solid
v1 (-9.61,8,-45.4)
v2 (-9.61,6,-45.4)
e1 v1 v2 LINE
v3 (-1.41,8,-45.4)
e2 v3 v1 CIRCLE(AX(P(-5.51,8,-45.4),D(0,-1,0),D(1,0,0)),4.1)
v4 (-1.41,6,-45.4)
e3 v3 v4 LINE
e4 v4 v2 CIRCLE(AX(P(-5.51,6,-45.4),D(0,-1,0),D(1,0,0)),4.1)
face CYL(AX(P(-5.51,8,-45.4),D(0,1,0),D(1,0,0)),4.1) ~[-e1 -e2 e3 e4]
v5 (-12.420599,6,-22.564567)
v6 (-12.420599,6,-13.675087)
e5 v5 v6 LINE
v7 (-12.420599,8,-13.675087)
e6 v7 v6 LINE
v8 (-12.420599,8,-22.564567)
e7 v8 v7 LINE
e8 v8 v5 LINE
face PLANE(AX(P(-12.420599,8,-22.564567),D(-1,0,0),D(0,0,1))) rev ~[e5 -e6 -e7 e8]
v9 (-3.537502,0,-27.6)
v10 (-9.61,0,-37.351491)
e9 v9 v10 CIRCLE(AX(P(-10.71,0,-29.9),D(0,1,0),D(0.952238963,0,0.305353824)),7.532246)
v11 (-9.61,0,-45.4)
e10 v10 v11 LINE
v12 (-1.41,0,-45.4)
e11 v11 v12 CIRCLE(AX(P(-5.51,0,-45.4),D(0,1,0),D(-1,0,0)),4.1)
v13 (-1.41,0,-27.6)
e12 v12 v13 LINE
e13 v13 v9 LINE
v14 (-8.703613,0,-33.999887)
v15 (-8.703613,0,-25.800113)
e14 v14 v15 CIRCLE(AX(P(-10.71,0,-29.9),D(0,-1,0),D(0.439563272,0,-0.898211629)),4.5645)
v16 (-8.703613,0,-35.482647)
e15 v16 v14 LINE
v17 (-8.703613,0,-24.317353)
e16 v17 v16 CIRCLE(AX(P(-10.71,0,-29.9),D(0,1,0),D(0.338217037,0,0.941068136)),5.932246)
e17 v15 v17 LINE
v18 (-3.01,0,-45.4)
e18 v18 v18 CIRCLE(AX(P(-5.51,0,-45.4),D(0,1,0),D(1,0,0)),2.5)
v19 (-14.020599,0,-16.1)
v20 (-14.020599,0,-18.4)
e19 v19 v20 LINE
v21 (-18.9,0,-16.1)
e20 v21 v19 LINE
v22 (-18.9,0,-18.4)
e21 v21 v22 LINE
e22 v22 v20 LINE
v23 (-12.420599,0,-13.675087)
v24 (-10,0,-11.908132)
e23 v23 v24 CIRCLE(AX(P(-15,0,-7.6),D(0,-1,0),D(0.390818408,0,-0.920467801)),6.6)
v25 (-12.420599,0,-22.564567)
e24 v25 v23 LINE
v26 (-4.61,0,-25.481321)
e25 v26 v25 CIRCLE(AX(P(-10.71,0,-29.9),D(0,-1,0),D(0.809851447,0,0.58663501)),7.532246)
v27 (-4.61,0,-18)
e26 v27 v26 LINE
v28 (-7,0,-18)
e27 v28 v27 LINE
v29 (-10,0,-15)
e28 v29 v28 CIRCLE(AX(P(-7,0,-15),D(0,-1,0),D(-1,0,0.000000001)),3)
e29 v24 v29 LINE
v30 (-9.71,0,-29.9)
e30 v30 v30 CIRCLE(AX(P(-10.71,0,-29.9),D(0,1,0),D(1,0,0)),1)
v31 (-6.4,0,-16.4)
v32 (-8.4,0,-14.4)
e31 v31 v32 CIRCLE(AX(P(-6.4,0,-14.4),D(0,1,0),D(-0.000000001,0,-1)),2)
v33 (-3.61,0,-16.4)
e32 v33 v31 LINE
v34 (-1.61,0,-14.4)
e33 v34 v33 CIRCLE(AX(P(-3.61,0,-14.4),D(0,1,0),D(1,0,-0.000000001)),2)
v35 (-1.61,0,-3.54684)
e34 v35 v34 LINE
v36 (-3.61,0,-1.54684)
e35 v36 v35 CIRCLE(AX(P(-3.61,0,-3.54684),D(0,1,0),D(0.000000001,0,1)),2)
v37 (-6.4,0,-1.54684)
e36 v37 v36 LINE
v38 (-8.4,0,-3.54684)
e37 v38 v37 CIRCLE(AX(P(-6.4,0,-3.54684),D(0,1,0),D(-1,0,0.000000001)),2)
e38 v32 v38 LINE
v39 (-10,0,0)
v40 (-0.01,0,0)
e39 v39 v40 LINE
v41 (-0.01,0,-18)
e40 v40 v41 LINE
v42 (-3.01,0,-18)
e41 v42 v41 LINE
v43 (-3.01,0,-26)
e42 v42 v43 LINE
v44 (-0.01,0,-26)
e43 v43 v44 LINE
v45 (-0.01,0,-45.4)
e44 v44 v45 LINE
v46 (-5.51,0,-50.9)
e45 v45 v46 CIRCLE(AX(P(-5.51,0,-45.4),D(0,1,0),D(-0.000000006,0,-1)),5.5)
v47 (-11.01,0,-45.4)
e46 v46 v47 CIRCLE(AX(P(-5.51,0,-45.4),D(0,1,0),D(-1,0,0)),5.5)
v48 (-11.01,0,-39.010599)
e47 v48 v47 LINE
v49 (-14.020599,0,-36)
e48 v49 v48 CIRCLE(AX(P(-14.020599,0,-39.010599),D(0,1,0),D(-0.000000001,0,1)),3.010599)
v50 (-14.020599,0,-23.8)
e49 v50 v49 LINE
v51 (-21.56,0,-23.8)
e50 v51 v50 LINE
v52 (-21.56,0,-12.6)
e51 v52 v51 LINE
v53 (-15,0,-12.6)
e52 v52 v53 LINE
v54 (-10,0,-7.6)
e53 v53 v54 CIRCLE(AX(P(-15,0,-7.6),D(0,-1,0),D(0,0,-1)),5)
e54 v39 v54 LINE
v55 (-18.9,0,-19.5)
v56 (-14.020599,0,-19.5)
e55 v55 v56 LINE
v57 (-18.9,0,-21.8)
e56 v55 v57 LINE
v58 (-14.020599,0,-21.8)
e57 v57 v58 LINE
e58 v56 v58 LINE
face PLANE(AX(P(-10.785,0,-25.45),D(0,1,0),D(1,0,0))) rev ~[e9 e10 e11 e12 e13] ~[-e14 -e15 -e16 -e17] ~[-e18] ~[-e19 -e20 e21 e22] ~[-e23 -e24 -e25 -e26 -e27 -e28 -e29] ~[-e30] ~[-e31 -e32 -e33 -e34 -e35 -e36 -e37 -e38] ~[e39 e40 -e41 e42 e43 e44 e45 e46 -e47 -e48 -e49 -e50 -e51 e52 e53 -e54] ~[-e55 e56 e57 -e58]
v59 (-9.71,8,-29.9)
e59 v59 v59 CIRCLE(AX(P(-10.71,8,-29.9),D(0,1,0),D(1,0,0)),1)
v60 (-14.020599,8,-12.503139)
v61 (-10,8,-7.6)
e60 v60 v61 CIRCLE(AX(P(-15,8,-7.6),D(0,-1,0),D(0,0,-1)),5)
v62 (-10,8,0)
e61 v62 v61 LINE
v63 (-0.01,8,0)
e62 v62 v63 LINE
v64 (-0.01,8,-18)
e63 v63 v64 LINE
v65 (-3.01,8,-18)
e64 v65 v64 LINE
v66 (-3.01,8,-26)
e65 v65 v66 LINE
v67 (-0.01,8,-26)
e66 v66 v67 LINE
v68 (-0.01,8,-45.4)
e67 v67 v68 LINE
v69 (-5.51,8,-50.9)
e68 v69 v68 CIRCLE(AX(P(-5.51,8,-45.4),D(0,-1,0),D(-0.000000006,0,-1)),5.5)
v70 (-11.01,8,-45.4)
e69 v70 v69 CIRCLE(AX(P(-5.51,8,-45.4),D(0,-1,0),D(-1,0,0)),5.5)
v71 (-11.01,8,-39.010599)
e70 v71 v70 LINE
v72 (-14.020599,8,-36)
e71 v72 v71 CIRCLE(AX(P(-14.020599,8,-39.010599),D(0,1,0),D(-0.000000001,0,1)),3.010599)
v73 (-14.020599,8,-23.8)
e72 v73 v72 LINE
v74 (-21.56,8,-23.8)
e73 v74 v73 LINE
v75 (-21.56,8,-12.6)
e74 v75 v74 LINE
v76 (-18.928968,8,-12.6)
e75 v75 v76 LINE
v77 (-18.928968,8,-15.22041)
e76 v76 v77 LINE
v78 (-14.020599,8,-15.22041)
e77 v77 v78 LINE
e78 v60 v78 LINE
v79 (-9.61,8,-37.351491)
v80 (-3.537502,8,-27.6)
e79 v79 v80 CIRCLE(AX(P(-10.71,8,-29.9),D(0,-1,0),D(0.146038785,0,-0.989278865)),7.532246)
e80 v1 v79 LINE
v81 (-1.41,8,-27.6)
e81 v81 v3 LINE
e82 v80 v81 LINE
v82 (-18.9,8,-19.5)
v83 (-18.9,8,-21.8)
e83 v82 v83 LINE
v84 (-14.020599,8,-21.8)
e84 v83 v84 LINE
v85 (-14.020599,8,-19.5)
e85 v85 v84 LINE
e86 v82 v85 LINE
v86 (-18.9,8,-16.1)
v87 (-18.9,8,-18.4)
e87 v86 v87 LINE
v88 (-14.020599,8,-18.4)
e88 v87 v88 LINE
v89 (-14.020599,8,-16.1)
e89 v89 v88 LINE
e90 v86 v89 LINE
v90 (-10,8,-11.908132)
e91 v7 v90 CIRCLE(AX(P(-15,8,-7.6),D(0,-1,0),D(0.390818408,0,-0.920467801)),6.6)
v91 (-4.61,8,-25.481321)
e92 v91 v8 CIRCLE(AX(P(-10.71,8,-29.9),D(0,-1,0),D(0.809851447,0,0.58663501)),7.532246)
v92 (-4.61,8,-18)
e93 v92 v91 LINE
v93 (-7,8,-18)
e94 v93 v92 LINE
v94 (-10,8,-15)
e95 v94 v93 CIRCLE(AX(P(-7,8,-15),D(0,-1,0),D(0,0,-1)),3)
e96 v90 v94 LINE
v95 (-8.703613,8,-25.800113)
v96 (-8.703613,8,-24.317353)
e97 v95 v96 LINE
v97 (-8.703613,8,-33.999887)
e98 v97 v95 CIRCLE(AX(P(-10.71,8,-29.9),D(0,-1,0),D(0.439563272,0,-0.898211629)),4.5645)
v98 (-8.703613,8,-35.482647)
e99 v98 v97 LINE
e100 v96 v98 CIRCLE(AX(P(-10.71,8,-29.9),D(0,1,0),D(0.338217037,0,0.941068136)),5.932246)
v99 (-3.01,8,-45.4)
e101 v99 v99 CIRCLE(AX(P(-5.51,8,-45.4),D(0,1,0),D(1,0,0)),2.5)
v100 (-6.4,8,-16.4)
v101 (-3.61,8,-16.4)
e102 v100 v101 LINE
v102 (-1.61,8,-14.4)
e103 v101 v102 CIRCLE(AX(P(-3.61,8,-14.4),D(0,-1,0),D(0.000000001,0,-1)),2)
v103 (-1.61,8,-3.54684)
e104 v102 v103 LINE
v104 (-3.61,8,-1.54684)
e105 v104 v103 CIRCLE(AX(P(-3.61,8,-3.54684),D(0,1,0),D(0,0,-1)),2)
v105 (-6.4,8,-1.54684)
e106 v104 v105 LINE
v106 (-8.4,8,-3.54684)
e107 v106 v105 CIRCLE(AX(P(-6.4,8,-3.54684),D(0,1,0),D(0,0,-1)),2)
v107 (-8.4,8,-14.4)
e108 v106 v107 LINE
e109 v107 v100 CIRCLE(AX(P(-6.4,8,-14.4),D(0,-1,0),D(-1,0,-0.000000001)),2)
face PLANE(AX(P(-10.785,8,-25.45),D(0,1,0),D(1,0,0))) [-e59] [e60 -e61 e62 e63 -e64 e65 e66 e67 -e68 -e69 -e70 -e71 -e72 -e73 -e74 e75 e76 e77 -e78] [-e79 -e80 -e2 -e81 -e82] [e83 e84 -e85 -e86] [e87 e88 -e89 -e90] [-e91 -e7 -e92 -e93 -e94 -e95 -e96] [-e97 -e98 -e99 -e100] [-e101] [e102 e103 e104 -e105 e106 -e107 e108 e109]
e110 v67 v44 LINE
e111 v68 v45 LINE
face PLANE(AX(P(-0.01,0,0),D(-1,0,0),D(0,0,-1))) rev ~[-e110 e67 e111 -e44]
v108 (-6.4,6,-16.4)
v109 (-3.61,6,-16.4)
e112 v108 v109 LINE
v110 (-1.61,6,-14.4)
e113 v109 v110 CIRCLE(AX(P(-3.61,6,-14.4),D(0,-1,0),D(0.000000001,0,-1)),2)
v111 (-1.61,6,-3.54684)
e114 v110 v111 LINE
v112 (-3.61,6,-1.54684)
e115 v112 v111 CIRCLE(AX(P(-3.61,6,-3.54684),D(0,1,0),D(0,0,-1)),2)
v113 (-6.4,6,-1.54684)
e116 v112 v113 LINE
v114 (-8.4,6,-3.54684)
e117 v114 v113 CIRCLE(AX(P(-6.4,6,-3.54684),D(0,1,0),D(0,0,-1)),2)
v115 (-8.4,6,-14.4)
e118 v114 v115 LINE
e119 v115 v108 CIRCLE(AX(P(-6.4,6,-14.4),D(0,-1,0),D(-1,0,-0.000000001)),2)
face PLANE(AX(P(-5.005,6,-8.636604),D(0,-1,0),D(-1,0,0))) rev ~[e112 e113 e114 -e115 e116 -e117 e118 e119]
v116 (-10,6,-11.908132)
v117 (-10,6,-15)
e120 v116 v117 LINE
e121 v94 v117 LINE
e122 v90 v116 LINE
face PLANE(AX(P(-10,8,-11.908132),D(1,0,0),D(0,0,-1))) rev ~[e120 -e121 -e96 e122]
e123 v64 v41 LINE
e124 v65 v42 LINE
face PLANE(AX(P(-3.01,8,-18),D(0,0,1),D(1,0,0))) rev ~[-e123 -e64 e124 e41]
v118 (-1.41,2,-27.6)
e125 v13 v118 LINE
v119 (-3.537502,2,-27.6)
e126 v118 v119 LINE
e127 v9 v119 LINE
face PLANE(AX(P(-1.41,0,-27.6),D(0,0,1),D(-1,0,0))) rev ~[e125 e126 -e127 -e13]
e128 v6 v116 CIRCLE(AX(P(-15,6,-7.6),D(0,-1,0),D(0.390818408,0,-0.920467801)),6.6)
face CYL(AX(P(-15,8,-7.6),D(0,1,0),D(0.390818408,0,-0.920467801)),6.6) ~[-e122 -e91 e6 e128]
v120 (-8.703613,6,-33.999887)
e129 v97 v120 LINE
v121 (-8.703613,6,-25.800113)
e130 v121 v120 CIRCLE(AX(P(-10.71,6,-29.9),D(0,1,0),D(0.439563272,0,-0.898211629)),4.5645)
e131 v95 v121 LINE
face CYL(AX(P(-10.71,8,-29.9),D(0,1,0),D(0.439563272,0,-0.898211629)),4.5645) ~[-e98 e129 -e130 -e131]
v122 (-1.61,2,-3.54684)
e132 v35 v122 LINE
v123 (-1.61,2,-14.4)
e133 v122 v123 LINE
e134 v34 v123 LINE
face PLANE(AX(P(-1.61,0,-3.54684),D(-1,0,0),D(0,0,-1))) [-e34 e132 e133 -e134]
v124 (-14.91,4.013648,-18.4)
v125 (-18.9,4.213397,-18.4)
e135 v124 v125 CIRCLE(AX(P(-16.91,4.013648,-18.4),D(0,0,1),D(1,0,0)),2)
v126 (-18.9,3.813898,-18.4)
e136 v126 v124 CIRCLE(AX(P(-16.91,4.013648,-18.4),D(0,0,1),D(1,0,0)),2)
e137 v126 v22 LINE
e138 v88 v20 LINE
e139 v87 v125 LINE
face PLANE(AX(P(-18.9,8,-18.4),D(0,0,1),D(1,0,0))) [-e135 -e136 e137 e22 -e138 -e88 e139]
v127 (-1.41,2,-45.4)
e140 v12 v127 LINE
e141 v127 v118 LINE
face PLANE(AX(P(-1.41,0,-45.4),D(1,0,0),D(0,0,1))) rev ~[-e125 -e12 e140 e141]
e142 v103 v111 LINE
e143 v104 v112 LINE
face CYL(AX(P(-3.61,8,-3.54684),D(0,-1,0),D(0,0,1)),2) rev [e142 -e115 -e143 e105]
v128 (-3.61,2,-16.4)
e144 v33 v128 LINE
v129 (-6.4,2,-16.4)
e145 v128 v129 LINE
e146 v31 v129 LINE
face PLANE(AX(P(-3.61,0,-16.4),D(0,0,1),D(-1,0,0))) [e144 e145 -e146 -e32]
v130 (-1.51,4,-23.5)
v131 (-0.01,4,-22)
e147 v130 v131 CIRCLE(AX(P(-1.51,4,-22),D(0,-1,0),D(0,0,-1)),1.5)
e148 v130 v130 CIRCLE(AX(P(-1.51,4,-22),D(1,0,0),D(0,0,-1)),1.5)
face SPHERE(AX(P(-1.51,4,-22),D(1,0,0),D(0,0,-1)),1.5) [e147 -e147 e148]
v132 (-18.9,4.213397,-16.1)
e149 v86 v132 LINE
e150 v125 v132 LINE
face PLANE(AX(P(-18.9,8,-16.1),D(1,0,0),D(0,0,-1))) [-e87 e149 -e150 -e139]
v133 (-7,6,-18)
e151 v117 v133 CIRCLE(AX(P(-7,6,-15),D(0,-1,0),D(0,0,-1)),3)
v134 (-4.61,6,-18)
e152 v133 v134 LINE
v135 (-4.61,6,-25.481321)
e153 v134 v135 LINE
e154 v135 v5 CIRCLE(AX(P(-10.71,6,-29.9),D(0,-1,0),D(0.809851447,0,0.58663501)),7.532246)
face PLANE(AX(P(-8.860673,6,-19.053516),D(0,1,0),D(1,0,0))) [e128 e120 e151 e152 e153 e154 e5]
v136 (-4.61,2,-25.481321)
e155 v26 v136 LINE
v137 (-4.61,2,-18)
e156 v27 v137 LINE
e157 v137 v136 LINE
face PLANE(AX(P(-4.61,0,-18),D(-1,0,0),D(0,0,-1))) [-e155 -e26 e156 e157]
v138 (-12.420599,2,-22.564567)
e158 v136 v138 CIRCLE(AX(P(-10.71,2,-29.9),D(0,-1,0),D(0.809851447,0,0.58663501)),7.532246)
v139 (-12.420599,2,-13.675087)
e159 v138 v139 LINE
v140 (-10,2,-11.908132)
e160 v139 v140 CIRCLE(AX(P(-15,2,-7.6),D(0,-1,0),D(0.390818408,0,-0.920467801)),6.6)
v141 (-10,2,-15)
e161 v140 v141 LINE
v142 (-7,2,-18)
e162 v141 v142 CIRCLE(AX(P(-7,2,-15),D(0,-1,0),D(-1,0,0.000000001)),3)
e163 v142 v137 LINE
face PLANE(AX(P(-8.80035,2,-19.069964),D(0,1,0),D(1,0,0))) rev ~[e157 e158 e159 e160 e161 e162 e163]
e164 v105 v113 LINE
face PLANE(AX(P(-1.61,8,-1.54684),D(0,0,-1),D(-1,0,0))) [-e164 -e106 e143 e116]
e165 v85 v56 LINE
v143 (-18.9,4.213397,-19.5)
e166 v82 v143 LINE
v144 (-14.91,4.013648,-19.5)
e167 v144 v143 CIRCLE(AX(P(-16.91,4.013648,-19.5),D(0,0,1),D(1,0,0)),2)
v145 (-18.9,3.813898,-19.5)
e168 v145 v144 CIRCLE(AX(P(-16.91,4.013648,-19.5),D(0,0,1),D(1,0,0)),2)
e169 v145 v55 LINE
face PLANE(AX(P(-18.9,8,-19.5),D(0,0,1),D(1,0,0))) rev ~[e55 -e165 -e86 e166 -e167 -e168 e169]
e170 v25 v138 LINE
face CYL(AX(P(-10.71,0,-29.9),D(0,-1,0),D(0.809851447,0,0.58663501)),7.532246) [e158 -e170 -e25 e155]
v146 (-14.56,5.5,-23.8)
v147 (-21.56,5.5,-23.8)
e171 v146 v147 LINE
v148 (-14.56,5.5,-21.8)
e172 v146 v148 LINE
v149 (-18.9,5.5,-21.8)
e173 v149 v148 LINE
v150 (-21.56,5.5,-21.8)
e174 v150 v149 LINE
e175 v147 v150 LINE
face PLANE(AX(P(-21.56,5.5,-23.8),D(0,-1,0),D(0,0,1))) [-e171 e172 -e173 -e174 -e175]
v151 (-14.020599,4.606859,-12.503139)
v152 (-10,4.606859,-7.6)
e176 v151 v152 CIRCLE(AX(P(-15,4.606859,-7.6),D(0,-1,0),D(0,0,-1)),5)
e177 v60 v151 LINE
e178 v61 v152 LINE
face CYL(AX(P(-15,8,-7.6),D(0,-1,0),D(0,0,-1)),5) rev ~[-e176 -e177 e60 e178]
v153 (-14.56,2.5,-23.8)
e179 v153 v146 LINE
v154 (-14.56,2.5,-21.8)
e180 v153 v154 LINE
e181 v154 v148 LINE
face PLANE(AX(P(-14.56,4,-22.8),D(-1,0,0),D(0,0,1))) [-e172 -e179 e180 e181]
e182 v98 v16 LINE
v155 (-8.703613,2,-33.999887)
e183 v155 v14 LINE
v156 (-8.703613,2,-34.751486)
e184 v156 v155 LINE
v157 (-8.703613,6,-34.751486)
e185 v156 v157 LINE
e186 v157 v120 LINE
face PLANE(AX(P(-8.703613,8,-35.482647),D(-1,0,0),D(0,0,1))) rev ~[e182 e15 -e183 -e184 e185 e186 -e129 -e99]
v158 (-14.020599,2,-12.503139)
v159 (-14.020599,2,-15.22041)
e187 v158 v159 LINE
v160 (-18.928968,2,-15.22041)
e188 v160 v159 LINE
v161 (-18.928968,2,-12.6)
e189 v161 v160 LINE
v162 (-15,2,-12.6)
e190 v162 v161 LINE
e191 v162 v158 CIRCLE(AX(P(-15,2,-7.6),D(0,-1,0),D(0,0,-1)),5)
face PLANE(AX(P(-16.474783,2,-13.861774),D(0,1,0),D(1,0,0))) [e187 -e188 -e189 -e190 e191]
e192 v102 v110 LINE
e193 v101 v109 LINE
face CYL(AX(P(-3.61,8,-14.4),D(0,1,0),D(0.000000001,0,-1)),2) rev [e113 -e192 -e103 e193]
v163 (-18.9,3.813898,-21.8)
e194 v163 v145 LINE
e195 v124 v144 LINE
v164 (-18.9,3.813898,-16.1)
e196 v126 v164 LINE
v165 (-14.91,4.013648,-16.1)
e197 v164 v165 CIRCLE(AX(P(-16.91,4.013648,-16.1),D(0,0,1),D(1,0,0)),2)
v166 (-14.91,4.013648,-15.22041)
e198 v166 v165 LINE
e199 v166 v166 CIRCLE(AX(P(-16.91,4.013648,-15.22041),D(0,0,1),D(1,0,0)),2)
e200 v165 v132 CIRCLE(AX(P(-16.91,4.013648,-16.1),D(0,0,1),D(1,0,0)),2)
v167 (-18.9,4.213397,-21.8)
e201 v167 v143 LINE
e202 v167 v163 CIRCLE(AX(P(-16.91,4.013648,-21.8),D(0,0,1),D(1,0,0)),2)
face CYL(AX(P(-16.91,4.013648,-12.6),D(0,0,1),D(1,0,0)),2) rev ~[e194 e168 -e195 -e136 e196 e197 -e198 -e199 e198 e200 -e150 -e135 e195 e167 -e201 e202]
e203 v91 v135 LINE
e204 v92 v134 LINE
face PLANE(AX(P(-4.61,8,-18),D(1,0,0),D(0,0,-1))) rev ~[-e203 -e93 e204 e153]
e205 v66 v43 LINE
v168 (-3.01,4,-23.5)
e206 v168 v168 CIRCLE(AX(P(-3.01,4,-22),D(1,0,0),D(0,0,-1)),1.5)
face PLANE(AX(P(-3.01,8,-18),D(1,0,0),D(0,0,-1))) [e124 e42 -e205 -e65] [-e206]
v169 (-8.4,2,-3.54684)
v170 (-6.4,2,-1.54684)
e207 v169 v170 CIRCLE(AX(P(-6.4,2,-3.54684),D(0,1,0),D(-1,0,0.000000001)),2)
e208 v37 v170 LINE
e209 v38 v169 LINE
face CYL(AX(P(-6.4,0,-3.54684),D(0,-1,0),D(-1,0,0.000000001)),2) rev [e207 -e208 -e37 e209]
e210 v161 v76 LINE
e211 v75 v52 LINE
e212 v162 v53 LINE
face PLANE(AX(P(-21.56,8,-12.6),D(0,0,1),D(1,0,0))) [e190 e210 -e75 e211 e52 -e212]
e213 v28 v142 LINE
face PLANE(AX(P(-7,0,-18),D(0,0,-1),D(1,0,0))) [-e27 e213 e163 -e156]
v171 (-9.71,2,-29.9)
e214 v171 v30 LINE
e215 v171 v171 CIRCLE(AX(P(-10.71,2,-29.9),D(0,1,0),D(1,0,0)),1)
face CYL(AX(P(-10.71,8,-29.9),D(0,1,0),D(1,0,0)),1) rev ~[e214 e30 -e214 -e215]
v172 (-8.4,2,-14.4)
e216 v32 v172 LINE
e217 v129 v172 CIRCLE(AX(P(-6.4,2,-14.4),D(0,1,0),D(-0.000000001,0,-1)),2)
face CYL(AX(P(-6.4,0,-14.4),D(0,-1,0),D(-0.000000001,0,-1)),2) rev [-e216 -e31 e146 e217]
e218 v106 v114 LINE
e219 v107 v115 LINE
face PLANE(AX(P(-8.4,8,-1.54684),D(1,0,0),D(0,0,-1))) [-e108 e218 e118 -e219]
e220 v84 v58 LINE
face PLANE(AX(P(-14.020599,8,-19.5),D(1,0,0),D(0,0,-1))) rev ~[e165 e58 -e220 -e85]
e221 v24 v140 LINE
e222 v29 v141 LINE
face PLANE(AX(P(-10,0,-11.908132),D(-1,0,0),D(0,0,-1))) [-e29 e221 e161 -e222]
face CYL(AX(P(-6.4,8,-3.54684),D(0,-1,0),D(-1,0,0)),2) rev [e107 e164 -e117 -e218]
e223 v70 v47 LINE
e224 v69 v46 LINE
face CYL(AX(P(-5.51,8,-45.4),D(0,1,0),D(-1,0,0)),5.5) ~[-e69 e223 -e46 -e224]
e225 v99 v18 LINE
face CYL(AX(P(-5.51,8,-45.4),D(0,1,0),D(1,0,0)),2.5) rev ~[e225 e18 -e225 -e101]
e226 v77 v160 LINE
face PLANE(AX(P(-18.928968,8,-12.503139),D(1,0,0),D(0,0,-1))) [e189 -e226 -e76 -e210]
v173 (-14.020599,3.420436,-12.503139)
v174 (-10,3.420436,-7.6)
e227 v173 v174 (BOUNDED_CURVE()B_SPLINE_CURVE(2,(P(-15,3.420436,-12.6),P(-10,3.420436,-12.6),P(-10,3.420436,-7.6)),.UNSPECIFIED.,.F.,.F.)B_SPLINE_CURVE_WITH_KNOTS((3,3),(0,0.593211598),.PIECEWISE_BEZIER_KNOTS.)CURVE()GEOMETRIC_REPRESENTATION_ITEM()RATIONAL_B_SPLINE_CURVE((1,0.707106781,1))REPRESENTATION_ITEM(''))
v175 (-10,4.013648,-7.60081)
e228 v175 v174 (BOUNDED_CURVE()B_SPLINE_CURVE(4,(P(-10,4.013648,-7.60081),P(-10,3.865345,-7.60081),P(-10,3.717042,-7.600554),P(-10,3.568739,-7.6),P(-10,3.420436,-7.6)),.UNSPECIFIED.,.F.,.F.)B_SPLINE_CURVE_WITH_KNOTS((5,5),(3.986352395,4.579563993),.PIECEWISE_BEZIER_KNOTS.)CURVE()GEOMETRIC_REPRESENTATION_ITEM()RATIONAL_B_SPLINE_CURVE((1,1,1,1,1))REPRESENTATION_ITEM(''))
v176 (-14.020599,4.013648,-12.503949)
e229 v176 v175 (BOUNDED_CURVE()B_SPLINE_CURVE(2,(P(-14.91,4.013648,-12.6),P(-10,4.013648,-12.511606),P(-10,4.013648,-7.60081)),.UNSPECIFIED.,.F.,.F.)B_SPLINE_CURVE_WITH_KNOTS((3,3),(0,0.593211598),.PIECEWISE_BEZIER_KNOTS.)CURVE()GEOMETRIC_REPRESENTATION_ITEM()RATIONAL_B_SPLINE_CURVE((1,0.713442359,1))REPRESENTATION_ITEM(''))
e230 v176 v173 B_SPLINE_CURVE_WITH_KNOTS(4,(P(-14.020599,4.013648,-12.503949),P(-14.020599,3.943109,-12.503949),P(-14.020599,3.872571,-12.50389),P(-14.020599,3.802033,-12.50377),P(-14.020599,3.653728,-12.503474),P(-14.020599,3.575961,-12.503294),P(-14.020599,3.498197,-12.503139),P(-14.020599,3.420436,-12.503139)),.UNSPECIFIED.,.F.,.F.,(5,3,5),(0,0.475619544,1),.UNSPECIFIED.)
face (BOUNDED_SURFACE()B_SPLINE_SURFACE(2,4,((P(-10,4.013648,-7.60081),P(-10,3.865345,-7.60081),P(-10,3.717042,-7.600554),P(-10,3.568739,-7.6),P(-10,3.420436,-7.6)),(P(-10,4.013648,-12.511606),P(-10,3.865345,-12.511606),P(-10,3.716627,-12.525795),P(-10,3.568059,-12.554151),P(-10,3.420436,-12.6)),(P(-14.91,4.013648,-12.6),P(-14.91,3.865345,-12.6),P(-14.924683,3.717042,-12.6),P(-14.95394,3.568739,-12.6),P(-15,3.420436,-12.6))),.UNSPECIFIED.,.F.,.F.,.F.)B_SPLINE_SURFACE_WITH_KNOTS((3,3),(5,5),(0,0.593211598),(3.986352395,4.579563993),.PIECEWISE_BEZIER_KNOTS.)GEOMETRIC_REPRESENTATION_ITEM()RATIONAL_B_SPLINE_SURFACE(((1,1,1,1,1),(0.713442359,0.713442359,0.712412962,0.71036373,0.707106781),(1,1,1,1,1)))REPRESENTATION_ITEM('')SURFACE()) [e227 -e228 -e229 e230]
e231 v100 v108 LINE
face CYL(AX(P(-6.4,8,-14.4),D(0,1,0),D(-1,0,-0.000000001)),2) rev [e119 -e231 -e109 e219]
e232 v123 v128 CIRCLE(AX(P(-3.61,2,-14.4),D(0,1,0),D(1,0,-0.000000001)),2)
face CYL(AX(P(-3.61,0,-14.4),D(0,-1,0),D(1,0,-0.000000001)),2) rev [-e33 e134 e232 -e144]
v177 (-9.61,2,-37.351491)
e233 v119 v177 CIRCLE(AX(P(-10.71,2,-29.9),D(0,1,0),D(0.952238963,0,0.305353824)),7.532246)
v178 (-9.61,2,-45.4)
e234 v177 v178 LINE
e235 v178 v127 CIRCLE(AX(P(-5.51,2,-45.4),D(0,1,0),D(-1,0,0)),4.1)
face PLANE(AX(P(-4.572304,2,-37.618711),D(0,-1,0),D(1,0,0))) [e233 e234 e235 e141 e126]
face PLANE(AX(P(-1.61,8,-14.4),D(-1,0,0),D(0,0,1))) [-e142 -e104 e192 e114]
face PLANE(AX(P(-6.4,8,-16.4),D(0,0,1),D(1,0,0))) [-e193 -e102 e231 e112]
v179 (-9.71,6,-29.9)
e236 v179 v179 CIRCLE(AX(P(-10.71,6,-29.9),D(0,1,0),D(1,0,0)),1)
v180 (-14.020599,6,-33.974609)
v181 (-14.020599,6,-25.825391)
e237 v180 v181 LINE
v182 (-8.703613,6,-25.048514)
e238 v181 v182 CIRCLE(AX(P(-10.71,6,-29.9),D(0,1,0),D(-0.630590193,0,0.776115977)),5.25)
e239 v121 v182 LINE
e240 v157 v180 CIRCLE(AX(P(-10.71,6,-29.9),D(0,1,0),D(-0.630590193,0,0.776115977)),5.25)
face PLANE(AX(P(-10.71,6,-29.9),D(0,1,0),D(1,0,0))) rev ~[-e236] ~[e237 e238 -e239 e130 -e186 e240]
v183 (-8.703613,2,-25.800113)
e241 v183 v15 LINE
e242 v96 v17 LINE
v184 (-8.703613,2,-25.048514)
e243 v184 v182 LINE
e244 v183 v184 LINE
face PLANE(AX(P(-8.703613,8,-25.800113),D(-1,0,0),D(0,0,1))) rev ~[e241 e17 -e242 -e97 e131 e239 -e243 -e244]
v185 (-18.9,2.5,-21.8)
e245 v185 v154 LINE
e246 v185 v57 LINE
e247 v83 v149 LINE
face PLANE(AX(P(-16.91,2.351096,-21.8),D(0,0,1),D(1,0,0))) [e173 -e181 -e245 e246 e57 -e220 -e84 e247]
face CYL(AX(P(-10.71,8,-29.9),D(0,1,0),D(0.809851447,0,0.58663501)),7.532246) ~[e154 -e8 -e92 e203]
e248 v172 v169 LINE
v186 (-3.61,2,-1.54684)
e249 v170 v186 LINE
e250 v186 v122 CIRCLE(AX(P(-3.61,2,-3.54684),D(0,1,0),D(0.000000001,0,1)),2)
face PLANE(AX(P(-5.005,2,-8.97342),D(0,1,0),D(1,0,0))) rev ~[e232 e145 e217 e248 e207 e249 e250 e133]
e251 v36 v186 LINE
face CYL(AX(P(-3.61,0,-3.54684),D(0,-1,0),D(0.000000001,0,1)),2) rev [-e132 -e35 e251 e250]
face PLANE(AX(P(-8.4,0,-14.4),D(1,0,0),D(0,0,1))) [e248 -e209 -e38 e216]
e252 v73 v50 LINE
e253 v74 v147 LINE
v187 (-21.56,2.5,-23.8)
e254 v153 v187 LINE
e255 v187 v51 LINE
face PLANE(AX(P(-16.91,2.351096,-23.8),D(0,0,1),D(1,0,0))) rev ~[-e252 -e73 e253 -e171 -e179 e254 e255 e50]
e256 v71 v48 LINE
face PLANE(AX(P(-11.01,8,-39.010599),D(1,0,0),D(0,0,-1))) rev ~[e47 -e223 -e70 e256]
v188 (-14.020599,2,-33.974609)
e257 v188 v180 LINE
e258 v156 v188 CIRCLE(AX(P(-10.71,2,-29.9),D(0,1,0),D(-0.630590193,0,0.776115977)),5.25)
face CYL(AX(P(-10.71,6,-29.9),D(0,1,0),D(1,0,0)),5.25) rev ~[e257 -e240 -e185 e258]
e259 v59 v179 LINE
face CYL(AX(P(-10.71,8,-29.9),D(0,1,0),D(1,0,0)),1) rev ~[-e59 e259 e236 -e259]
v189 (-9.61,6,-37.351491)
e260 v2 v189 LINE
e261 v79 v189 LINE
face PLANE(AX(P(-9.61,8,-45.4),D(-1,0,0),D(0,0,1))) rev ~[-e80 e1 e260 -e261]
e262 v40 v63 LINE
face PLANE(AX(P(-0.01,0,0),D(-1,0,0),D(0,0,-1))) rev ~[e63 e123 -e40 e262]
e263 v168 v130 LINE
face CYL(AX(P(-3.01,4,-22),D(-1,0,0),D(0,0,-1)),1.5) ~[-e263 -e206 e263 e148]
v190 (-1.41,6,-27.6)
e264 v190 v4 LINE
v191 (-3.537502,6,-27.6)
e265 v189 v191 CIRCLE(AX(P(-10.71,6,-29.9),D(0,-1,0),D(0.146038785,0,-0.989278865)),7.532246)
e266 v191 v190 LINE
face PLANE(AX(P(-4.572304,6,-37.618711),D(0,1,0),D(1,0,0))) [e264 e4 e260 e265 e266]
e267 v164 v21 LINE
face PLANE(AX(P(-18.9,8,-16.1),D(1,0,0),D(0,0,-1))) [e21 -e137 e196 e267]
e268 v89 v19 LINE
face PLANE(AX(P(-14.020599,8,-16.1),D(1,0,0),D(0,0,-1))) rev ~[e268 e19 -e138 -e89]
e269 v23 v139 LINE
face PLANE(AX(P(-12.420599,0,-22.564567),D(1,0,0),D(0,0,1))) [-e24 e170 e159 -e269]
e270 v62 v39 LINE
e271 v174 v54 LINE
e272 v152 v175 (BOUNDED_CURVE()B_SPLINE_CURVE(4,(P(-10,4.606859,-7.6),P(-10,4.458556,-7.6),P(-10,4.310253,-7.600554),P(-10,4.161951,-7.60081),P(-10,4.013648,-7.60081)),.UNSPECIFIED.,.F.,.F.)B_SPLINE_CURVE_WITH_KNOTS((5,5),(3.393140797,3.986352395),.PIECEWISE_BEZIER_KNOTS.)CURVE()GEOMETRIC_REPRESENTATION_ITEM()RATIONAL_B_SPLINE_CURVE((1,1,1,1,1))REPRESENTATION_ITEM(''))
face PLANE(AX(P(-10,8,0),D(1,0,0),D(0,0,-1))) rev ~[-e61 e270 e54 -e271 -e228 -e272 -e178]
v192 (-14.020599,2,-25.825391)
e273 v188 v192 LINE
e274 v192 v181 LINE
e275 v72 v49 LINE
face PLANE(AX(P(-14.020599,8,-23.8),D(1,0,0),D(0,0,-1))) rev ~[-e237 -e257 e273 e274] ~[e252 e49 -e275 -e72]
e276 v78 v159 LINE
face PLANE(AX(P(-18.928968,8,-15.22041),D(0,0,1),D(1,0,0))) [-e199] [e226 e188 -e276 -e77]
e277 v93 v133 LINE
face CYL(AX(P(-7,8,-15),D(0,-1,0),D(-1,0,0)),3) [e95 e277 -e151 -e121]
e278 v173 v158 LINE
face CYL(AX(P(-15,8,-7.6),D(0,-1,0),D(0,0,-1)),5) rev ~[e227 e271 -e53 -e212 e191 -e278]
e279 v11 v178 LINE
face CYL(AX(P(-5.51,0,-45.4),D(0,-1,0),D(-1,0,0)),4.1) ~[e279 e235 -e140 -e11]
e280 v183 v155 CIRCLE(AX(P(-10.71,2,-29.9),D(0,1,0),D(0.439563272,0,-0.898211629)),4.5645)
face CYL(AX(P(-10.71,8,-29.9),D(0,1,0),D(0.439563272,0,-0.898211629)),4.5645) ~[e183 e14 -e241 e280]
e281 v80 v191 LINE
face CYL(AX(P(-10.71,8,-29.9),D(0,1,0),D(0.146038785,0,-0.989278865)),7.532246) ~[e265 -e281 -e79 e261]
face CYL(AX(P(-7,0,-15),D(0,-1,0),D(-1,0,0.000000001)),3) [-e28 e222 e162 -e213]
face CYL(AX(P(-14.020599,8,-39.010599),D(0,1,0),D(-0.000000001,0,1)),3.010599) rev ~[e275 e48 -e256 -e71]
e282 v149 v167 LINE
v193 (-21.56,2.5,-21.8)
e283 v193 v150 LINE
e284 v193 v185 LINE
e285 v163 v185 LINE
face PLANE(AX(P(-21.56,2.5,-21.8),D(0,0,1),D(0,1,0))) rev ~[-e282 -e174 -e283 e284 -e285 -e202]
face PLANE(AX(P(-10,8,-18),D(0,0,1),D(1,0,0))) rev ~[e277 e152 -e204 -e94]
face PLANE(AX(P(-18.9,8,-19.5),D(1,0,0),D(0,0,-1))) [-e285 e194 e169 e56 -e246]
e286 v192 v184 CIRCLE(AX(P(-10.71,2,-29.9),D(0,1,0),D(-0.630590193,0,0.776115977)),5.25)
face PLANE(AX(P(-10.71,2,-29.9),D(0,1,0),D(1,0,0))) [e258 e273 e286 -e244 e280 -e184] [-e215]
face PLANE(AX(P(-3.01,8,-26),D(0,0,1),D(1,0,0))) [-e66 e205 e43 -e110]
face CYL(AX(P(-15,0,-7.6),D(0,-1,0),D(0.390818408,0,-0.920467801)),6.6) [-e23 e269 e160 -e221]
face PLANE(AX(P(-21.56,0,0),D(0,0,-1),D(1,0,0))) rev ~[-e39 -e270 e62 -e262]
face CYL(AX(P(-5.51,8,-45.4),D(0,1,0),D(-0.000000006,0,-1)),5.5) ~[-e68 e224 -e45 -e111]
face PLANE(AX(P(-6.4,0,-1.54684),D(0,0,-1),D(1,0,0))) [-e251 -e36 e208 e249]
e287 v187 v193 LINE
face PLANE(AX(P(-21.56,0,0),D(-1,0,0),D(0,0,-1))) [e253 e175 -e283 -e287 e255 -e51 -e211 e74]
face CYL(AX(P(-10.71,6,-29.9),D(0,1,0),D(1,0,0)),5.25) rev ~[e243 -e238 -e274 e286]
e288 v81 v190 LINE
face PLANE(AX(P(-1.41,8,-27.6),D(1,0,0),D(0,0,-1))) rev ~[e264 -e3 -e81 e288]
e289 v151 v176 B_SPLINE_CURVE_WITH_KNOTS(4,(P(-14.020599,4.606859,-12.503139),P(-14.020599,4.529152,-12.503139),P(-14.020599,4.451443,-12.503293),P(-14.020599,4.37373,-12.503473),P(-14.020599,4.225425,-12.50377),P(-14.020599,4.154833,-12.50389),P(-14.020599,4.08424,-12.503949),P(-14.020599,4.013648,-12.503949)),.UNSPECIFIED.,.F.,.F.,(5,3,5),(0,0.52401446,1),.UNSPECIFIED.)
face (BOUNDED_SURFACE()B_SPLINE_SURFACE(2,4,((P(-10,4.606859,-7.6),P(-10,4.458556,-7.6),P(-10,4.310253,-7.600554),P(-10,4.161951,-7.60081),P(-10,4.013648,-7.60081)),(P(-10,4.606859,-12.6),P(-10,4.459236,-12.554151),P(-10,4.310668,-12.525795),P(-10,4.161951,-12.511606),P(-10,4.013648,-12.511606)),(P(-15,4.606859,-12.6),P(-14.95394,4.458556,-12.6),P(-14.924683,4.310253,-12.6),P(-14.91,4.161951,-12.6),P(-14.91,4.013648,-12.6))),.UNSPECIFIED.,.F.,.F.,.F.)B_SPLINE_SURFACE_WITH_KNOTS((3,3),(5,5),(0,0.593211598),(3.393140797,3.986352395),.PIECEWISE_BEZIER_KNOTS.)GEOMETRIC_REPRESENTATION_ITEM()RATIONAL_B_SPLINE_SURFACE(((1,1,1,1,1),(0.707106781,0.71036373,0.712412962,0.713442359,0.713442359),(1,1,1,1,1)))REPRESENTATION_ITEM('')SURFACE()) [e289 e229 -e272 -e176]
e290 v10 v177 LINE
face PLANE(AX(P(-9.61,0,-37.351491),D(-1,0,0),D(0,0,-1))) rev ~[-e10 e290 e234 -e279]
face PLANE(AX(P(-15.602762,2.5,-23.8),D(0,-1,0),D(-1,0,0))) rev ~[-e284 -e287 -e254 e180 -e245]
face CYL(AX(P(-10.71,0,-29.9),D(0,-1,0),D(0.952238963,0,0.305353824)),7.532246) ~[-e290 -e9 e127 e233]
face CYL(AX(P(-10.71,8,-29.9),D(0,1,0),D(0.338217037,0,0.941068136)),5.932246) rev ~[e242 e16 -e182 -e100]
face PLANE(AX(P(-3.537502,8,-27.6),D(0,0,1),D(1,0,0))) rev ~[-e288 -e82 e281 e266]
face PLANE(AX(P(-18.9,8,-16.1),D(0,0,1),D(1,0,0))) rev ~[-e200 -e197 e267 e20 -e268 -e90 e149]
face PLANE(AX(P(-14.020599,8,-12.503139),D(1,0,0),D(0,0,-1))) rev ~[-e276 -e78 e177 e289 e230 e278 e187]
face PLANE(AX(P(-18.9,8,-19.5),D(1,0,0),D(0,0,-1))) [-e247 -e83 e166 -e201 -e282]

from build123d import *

# Parameters (mm, degrees)
SKETCH1_W           = 21.55
SKETCH1_H           = 50.9
BOSS_EXTRUDE1_DEPTH = 8
SKETCH2_W           = 3
SKETCH2_H           = 8
SKETCH2_W_2         = 11.56
SKETCH2_H_2         = 12.6
CUT_EXTRUDE1_DEPTH  = 10
SKETCH4_R           = 1
CUT_EXTRUDE2_DEPTH  = 10
CUT_EXTRUDE3_START  = -2
SKETCH5_R           = 5.25
CUT_EXTRUDE3_DEPTH  = 4
CUT_EXTRUDE4_DEPTH  = 8
SKETCH7_R           = 2.5
CUT_EXTRUDE5_DEPTH  = 8
SKETCH8_R           = 1.5
BOSS_EXTRUDE2_DEPTH = 3
FILLET1_R           = 1.5
CUT_EXTRUDE6_REACH  = 40.3
SKETCH9_R           = 2
FILLET2_R           = 5
SKETCH10_W          = 4.879401489
SKETCH10_H          = 2.3
CUT_EXTRUDE7_DEPTH  = 8
SKETCH11_W          = 4.90836959
SKETCH11_H          = 2.717270837
CUT_EXTRUDE8_DEPTH  = 6
CUT_EXTRUDE9_DEPTH  = 2
CUT_EXTRUDE11_DEPTH = 2
CUT_EXTRUDE12_DEPTH = 2
FILLET3_R           = 3
FILLET4_R           = 2
CUT_EXTRUDE13_DEPTH = 2
SKETCH16_W          = 2
SKETCH16_H          = 3
CUT_EXTRUDE14_DEPTH = 7
BOSS_EXTRUDE3_DEPTH = 2


with BuildPart() as part:
    # Sketch1 → Boss-Extrude1 (new body)
    with BuildSketch(Plane(origin=(0, 0, 0), x_dir=(1, 0, 0), z_dir=(0, 1, 0))):
        with Locations((-10.785, 25.45)):
            Rectangle(SKETCH1_W, SKETCH1_H)
    extrude(amount=BOSS_EXTRUDE1_DEPTH)

    # Sketch2 → Cut-Extrude1 (cut)
    with BuildSketch(Plane(origin=(0, 8, 0), x_dir=(1, 0, 0), z_dir=(0, 1, 0))):
        with BuildLine():
            ThreePointArc((-14.020598511, 36), (-11.891783888, 36.881783888), (-11.01, 39.010598511))
            Line((-11.01, 39.010598511), (-11.01, 45.4))
            ThreePointArc((-11.01, 45.4), (-9.399087308, 49.289087285), (-5.510000032, 50.9))
            Line((-5.510000032, 50.9), (-21.56, 50.9))
            Line((-21.56, 50.9), (-21.56, 23.8))
            Line((-21.56, 23.8), (-14.020598511, 23.8))
            Line((-14.020598511, 23.8), (-14.020598511, 36))
        make_face()
        with BuildLine():
            Line((-0.01, 50.9), (-5.510000032, 50.9))
            ThreePointArc((-5.510000032, 50.9), (-1.620912715, 49.289087308), (-0.01, 45.4))
            Line((-0.01, 45.4), (-0.01, 50.9))
        make_face()
        with Locations((-1.51, 22)):
            Rectangle(SKETCH2_W, SKETCH2_H)
        with Locations((-15.78, 6.3)):
            Rectangle(SKETCH2_W_2, SKETCH2_H_2)
    extrude(amount=-CUT_EXTRUDE1_DEPTH, mode=Mode.SUBTRACT)

    # Sketch4 → Cut-Extrude2 (cut)
    with BuildSketch(Plane(origin=(0, 8, 0), x_dir=(1, 0, 0), z_dir=(0, 1, 0))):
        with Locations((-10.71, 29.9)):
            Circle(SKETCH4_R)
    extrude(amount=-CUT_EXTRUDE2_DEPTH, mode=Mode.SUBTRACT)

    # Sketch5 → Cut-Extrude3 (cut)
    with BuildSketch(Plane(origin=(0, 8, 0), x_dir=(1, 0, 0), z_dir=(0, 1, 0)).offset(CUT_EXTRUDE3_START)):
        with Locations((-10.71, 29.9)):
            Circle(SKETCH5_R)
    extrude(amount=-CUT_EXTRUDE3_DEPTH, mode=Mode.SUBTRACT)

    # Sketch6 → Cut-Extrude4 (cut)
    with BuildSketch(Plane(origin=(0, 8, 0), x_dir=(1, 0, 0), z_dir=(0, 1, 0))):
        with BuildLine():
            Line((-8.703613469, 35.482647313), (-8.703613469, 33.999886934))
            ThreePointArc((-8.703613469, 33.999886934), (-6.145500051, 29.9), (-8.703613469, 25.800113066))
            Line((-8.703613469, 25.800113066), (-8.703613469, 24.317352687))
            ThreePointArc((-8.703613469, 24.317352687), (-4.777754394, 29.9), (-8.703613469, 35.482647313))
        make_face()
    extrude(amount=-CUT_EXTRUDE4_DEPTH, mode=Mode.SUBTRACT)

    # Sketch7 → Cut-Extrude5 (cut)
    with BuildSketch(Plane(origin=(0, 8, 0), x_dir=(1, 0, 0), z_dir=(0, 1, 0))):
        with Locations((-5.51, 45.4)):
            Circle(SKETCH7_R)
    extrude(amount=-CUT_EXTRUDE5_DEPTH, mode=Mode.SUBTRACT)

    # Sketch8 → Boss-Extrude2 (add)
    with BuildSketch(Plane(origin=(-3.01, 0, 0), x_dir=(0, 0, -1), z_dir=(1, 0, 0))):
        with Locations((22, 4)):
            Circle(SKETCH8_R)
    extrude(amount=BOSS_EXTRUDE2_DEPTH)

    # Fillet1
    fillet1_edges = [part.edges().sort_by_distance(p)[0] for p in [
        (-0.01, 4, -20.5),
    ]]
    fillet(fillet1_edges, radius=FILLET1_R)

    # Sketch9 → Cut-Extrude6 (cut, up to next)
    with BuildSketch(Plane.XY.offset(-12.6), mode=Mode.PRIVATE) as cut_extrude6_sk1:
        with Locations((-16.91, 4.013647605)):
            Circle(SKETCH9_R)
    cut_extrude6_tool1 = extrude(cut_extrude6_sk1.sketch, amount=-CUT_EXTRUDE6_REACH, mode=Mode.PRIVATE) & part.part
    add(cut_extrude6_tool1.solids().sort_by_distance((-16.91, 4.013648, -12.6))[0], mode=Mode.SUBTRACT)

    # Fillet2
    fillet2_edges = [part.edges().sort_by_distance(p)[0] for p in [
        (-10, 4, -12.6),
    ]]
    fillet(fillet2_edges, radius=FILLET2_R)

    # Sketch10 → Cut-Extrude7 (cut)
    with BuildSketch(Plane(origin=(0, 8, 0), x_dir=(1, 0, 0), z_dir=(0, 1, 0))):
        with Locations((-16.460299256, 20.65)):
            Rectangle(SKETCH10_W, SKETCH10_H)
        with Locations((-16.460299256, 17.25)):
            Rectangle(SKETCH10_W, SKETCH10_H)
    extrude(amount=-CUT_EXTRUDE7_DEPTH, mode=Mode.SUBTRACT)

    # Sketch11 → Cut-Extrude8 (cut)
    with BuildSketch(Plane(origin=(0, 8, 0), x_dir=(1, 0, 0), z_dir=(0, 1, 0))):
        with Locations((-16.474783306, 13.861774486)):
            Rectangle(SKETCH11_W, SKETCH11_H)
    extrude(amount=-CUT_EXTRUDE8_DEPTH, mode=Mode.SUBTRACT)

    # Sketch12 → Cut-Extrude9 (cut)
    with BuildSketch(Plane(origin=(0, 8, 0), x_dir=(1, 0, 0), z_dir=(0, 1, 0))):
        with BuildLine():
            Line((-9.61, 45.4), (-9.61, 37.351491386))
            ThreePointArc((-9.61, 37.351491386), (-4.316139602, 33.881616893), (-3.537502257, 27.6))
            Line((-3.537502257, 27.6), (-1.41, 27.6))
            Line((-1.41, 27.6), (-1.41, 45.4))
            ThreePointArc((-1.41, 45.4), (-5.51, 41.3), (-9.61, 45.4))
        make_face()
    extrude(amount=-CUT_EXTRUDE9_DEPTH, mode=Mode.SUBTRACT)

    # Sketch13 → Cut-Extrude11 (cut)
    with BuildSketch(Plane.XZ):
        with BuildLine():
            Line((-1.41, -27.6), (-3.537502257, -27.6))
            ThreePointArc((-3.537502257, -27.6), (-4.316139602, -33.881616893), (-9.61, -37.351491386))
            Line((-9.61, -37.351491386), (-9.61, -45.4))
            ThreePointArc((-9.61, -45.4), (-5.51, -41.3), (-1.41, -45.4))
            Line((-1.41, -45.4), (-1.41, -27.6))
        make_face()
    extrude(amount=-CUT_EXTRUDE11_DEPTH, mode=Mode.SUBTRACT)

    # Sketch14 → Cut-Extrude12 (cut)
    with BuildSketch(Plane(origin=(0, 8, 0), x_dir=(1, 0, 0), z_dir=(0, 1, 0))):
        with BuildLine():
            Line((-12.420598511, 22.564567047), (-12.420598511, 13.675087486))
            ThreePointArc((-12.420598511, 13.675087486), (-11.108680842, 12.930819375), (-10, 11.908131846))
            Line((-10, 11.908131846), (-10, 18))
            Line((-10, 18), (-4.61, 18))
            Line((-4.61, 18), (-4.61, 25.481321027))
            ThreePointArc((-4.61, 25.481321027), (-8.074933625, 22.843715633), (-12.420598511, 22.564567047))
        make_face()
        with BuildLine():
            Line((-6.4, 16.4), (-3.61, 16.4))
            ThreePointArc((-3.61, 16.4), (-2.195786438, 15.814213562), (-1.61, 14.4))
            Line((-1.61, 14.4), (-1.61, 1.546839651))
            Line((-1.61, 1.546839651), (-8.4, 1.546839651))
            Line((-8.4, 1.546839651), (-8.4, 14.4))
            ThreePointArc((-8.4, 14.4), (-7.814213562, 15.814213562), (-6.4, 16.4))
        make_face()
    extrude(amount=-CUT_EXTRUDE12_DEPTH, mode=Mode.SUBTRACT)

    # Fillet3
    fillet3_edges = [part.edges().sort_by_distance(p)[0] for p in [
        (-10, 7, -18),
    ]]
    fillet(fillet3_edges, radius=FILLET3_R)

    # Fillet4
    fillet4_edges = [part.edges().sort_by_distance(p)[0] for p in [
        (-1.61, 7, -1.546839651),
        (-8.4, 7, -1.546839651),
    ]]
    fillet(fillet4_edges, radius=FILLET4_R)

    # Sketch15 → Cut-Extrude13 (cut)
    with BuildSketch(Plane(origin=(0, 0, 0), x_dir=(-1, 0, 0), z_dir=(0, -1, 0))):
        with BuildLine():
            Line((6.4, 1.546839651), (3.61, 1.546839651))
            ThreePointArc((3.61, 1.546839651), (2.195786438, 2.132626089), (1.61, 3.546839651))
            Line((1.61, 3.546839651), (1.61, 14.4))
            ThreePointArc((1.61, 14.4), (2.195786438, 15.814213562), (3.61, 16.4))
            Line((3.61, 16.4), (6.4, 16.4))
            ThreePointArc((6.4, 16.4), (7.814213562, 15.814213562), (8.4, 14.4))
            Line((8.4, 14.4), (8.4, 3.546839651))
            ThreePointArc((8.4, 3.546839651), (7.814213562, 2.132626089), (6.4, 1.546839651))
        make_face()
        with BuildLine():
            Line((4.61, 18), (4.61, 25.481321027))
            ThreePointArc((4.61, 25.481321027), (8.074933625, 22.843715633), (12.420598511, 22.564567047))
            Line((12.420598511, 22.564567047), (12.420598511, 13.675087486))
            ThreePointArc((12.420598511, 13.675087486), (11.108680842, 12.930819375), (10, 11.908131846))
            Line((10, 11.908131846), (10, 15))
            ThreePointArc((10, 15), (9.121320344, 17.121320344), (7, 18))
            Line((7, 18), (4.61, 18))
        make_face()
    extrude(amount=-CUT_EXTRUDE13_DEPTH, mode=Mode.SUBTRACT)

    # Sketch16 → Cut-Extrude14 (cut)
    with BuildSketch(Plane.ZY.offset(21.56)):
        with Locations((-22.8, 4)):
            Rectangle(SKETCH16_W, SKETCH16_H)
    extrude(amount=-CUT_EXTRUDE14_DEPTH, mode=Mode.SUBTRACT)

    # Sketch17 → Boss-Extrude3 (add)
    with BuildSketch(Plane(origin=(0, 0, -23.8), x_dir=(-1, 0, 0), z_dir=(0, 0, -1))):
        with BuildLine():
            Line((15.602762099, 2.5), (18.217237901, 2.5))
            ThreePointArc((18.217237901, 2.5), (16.91, 2.013647605), (15.602762099, 2.5))
        make_face()
        with BuildLine():
            Line((15.571808475, 5.5), (18.248191525, 5.5))
            ThreePointArc((18.248191525, 5.5), (16.91, 6.013647605), (15.571808475, 5.5))
        make_face()
    extrude(amount=-BOSS_EXTRUDE3_DEPTH)


solid = part.part
